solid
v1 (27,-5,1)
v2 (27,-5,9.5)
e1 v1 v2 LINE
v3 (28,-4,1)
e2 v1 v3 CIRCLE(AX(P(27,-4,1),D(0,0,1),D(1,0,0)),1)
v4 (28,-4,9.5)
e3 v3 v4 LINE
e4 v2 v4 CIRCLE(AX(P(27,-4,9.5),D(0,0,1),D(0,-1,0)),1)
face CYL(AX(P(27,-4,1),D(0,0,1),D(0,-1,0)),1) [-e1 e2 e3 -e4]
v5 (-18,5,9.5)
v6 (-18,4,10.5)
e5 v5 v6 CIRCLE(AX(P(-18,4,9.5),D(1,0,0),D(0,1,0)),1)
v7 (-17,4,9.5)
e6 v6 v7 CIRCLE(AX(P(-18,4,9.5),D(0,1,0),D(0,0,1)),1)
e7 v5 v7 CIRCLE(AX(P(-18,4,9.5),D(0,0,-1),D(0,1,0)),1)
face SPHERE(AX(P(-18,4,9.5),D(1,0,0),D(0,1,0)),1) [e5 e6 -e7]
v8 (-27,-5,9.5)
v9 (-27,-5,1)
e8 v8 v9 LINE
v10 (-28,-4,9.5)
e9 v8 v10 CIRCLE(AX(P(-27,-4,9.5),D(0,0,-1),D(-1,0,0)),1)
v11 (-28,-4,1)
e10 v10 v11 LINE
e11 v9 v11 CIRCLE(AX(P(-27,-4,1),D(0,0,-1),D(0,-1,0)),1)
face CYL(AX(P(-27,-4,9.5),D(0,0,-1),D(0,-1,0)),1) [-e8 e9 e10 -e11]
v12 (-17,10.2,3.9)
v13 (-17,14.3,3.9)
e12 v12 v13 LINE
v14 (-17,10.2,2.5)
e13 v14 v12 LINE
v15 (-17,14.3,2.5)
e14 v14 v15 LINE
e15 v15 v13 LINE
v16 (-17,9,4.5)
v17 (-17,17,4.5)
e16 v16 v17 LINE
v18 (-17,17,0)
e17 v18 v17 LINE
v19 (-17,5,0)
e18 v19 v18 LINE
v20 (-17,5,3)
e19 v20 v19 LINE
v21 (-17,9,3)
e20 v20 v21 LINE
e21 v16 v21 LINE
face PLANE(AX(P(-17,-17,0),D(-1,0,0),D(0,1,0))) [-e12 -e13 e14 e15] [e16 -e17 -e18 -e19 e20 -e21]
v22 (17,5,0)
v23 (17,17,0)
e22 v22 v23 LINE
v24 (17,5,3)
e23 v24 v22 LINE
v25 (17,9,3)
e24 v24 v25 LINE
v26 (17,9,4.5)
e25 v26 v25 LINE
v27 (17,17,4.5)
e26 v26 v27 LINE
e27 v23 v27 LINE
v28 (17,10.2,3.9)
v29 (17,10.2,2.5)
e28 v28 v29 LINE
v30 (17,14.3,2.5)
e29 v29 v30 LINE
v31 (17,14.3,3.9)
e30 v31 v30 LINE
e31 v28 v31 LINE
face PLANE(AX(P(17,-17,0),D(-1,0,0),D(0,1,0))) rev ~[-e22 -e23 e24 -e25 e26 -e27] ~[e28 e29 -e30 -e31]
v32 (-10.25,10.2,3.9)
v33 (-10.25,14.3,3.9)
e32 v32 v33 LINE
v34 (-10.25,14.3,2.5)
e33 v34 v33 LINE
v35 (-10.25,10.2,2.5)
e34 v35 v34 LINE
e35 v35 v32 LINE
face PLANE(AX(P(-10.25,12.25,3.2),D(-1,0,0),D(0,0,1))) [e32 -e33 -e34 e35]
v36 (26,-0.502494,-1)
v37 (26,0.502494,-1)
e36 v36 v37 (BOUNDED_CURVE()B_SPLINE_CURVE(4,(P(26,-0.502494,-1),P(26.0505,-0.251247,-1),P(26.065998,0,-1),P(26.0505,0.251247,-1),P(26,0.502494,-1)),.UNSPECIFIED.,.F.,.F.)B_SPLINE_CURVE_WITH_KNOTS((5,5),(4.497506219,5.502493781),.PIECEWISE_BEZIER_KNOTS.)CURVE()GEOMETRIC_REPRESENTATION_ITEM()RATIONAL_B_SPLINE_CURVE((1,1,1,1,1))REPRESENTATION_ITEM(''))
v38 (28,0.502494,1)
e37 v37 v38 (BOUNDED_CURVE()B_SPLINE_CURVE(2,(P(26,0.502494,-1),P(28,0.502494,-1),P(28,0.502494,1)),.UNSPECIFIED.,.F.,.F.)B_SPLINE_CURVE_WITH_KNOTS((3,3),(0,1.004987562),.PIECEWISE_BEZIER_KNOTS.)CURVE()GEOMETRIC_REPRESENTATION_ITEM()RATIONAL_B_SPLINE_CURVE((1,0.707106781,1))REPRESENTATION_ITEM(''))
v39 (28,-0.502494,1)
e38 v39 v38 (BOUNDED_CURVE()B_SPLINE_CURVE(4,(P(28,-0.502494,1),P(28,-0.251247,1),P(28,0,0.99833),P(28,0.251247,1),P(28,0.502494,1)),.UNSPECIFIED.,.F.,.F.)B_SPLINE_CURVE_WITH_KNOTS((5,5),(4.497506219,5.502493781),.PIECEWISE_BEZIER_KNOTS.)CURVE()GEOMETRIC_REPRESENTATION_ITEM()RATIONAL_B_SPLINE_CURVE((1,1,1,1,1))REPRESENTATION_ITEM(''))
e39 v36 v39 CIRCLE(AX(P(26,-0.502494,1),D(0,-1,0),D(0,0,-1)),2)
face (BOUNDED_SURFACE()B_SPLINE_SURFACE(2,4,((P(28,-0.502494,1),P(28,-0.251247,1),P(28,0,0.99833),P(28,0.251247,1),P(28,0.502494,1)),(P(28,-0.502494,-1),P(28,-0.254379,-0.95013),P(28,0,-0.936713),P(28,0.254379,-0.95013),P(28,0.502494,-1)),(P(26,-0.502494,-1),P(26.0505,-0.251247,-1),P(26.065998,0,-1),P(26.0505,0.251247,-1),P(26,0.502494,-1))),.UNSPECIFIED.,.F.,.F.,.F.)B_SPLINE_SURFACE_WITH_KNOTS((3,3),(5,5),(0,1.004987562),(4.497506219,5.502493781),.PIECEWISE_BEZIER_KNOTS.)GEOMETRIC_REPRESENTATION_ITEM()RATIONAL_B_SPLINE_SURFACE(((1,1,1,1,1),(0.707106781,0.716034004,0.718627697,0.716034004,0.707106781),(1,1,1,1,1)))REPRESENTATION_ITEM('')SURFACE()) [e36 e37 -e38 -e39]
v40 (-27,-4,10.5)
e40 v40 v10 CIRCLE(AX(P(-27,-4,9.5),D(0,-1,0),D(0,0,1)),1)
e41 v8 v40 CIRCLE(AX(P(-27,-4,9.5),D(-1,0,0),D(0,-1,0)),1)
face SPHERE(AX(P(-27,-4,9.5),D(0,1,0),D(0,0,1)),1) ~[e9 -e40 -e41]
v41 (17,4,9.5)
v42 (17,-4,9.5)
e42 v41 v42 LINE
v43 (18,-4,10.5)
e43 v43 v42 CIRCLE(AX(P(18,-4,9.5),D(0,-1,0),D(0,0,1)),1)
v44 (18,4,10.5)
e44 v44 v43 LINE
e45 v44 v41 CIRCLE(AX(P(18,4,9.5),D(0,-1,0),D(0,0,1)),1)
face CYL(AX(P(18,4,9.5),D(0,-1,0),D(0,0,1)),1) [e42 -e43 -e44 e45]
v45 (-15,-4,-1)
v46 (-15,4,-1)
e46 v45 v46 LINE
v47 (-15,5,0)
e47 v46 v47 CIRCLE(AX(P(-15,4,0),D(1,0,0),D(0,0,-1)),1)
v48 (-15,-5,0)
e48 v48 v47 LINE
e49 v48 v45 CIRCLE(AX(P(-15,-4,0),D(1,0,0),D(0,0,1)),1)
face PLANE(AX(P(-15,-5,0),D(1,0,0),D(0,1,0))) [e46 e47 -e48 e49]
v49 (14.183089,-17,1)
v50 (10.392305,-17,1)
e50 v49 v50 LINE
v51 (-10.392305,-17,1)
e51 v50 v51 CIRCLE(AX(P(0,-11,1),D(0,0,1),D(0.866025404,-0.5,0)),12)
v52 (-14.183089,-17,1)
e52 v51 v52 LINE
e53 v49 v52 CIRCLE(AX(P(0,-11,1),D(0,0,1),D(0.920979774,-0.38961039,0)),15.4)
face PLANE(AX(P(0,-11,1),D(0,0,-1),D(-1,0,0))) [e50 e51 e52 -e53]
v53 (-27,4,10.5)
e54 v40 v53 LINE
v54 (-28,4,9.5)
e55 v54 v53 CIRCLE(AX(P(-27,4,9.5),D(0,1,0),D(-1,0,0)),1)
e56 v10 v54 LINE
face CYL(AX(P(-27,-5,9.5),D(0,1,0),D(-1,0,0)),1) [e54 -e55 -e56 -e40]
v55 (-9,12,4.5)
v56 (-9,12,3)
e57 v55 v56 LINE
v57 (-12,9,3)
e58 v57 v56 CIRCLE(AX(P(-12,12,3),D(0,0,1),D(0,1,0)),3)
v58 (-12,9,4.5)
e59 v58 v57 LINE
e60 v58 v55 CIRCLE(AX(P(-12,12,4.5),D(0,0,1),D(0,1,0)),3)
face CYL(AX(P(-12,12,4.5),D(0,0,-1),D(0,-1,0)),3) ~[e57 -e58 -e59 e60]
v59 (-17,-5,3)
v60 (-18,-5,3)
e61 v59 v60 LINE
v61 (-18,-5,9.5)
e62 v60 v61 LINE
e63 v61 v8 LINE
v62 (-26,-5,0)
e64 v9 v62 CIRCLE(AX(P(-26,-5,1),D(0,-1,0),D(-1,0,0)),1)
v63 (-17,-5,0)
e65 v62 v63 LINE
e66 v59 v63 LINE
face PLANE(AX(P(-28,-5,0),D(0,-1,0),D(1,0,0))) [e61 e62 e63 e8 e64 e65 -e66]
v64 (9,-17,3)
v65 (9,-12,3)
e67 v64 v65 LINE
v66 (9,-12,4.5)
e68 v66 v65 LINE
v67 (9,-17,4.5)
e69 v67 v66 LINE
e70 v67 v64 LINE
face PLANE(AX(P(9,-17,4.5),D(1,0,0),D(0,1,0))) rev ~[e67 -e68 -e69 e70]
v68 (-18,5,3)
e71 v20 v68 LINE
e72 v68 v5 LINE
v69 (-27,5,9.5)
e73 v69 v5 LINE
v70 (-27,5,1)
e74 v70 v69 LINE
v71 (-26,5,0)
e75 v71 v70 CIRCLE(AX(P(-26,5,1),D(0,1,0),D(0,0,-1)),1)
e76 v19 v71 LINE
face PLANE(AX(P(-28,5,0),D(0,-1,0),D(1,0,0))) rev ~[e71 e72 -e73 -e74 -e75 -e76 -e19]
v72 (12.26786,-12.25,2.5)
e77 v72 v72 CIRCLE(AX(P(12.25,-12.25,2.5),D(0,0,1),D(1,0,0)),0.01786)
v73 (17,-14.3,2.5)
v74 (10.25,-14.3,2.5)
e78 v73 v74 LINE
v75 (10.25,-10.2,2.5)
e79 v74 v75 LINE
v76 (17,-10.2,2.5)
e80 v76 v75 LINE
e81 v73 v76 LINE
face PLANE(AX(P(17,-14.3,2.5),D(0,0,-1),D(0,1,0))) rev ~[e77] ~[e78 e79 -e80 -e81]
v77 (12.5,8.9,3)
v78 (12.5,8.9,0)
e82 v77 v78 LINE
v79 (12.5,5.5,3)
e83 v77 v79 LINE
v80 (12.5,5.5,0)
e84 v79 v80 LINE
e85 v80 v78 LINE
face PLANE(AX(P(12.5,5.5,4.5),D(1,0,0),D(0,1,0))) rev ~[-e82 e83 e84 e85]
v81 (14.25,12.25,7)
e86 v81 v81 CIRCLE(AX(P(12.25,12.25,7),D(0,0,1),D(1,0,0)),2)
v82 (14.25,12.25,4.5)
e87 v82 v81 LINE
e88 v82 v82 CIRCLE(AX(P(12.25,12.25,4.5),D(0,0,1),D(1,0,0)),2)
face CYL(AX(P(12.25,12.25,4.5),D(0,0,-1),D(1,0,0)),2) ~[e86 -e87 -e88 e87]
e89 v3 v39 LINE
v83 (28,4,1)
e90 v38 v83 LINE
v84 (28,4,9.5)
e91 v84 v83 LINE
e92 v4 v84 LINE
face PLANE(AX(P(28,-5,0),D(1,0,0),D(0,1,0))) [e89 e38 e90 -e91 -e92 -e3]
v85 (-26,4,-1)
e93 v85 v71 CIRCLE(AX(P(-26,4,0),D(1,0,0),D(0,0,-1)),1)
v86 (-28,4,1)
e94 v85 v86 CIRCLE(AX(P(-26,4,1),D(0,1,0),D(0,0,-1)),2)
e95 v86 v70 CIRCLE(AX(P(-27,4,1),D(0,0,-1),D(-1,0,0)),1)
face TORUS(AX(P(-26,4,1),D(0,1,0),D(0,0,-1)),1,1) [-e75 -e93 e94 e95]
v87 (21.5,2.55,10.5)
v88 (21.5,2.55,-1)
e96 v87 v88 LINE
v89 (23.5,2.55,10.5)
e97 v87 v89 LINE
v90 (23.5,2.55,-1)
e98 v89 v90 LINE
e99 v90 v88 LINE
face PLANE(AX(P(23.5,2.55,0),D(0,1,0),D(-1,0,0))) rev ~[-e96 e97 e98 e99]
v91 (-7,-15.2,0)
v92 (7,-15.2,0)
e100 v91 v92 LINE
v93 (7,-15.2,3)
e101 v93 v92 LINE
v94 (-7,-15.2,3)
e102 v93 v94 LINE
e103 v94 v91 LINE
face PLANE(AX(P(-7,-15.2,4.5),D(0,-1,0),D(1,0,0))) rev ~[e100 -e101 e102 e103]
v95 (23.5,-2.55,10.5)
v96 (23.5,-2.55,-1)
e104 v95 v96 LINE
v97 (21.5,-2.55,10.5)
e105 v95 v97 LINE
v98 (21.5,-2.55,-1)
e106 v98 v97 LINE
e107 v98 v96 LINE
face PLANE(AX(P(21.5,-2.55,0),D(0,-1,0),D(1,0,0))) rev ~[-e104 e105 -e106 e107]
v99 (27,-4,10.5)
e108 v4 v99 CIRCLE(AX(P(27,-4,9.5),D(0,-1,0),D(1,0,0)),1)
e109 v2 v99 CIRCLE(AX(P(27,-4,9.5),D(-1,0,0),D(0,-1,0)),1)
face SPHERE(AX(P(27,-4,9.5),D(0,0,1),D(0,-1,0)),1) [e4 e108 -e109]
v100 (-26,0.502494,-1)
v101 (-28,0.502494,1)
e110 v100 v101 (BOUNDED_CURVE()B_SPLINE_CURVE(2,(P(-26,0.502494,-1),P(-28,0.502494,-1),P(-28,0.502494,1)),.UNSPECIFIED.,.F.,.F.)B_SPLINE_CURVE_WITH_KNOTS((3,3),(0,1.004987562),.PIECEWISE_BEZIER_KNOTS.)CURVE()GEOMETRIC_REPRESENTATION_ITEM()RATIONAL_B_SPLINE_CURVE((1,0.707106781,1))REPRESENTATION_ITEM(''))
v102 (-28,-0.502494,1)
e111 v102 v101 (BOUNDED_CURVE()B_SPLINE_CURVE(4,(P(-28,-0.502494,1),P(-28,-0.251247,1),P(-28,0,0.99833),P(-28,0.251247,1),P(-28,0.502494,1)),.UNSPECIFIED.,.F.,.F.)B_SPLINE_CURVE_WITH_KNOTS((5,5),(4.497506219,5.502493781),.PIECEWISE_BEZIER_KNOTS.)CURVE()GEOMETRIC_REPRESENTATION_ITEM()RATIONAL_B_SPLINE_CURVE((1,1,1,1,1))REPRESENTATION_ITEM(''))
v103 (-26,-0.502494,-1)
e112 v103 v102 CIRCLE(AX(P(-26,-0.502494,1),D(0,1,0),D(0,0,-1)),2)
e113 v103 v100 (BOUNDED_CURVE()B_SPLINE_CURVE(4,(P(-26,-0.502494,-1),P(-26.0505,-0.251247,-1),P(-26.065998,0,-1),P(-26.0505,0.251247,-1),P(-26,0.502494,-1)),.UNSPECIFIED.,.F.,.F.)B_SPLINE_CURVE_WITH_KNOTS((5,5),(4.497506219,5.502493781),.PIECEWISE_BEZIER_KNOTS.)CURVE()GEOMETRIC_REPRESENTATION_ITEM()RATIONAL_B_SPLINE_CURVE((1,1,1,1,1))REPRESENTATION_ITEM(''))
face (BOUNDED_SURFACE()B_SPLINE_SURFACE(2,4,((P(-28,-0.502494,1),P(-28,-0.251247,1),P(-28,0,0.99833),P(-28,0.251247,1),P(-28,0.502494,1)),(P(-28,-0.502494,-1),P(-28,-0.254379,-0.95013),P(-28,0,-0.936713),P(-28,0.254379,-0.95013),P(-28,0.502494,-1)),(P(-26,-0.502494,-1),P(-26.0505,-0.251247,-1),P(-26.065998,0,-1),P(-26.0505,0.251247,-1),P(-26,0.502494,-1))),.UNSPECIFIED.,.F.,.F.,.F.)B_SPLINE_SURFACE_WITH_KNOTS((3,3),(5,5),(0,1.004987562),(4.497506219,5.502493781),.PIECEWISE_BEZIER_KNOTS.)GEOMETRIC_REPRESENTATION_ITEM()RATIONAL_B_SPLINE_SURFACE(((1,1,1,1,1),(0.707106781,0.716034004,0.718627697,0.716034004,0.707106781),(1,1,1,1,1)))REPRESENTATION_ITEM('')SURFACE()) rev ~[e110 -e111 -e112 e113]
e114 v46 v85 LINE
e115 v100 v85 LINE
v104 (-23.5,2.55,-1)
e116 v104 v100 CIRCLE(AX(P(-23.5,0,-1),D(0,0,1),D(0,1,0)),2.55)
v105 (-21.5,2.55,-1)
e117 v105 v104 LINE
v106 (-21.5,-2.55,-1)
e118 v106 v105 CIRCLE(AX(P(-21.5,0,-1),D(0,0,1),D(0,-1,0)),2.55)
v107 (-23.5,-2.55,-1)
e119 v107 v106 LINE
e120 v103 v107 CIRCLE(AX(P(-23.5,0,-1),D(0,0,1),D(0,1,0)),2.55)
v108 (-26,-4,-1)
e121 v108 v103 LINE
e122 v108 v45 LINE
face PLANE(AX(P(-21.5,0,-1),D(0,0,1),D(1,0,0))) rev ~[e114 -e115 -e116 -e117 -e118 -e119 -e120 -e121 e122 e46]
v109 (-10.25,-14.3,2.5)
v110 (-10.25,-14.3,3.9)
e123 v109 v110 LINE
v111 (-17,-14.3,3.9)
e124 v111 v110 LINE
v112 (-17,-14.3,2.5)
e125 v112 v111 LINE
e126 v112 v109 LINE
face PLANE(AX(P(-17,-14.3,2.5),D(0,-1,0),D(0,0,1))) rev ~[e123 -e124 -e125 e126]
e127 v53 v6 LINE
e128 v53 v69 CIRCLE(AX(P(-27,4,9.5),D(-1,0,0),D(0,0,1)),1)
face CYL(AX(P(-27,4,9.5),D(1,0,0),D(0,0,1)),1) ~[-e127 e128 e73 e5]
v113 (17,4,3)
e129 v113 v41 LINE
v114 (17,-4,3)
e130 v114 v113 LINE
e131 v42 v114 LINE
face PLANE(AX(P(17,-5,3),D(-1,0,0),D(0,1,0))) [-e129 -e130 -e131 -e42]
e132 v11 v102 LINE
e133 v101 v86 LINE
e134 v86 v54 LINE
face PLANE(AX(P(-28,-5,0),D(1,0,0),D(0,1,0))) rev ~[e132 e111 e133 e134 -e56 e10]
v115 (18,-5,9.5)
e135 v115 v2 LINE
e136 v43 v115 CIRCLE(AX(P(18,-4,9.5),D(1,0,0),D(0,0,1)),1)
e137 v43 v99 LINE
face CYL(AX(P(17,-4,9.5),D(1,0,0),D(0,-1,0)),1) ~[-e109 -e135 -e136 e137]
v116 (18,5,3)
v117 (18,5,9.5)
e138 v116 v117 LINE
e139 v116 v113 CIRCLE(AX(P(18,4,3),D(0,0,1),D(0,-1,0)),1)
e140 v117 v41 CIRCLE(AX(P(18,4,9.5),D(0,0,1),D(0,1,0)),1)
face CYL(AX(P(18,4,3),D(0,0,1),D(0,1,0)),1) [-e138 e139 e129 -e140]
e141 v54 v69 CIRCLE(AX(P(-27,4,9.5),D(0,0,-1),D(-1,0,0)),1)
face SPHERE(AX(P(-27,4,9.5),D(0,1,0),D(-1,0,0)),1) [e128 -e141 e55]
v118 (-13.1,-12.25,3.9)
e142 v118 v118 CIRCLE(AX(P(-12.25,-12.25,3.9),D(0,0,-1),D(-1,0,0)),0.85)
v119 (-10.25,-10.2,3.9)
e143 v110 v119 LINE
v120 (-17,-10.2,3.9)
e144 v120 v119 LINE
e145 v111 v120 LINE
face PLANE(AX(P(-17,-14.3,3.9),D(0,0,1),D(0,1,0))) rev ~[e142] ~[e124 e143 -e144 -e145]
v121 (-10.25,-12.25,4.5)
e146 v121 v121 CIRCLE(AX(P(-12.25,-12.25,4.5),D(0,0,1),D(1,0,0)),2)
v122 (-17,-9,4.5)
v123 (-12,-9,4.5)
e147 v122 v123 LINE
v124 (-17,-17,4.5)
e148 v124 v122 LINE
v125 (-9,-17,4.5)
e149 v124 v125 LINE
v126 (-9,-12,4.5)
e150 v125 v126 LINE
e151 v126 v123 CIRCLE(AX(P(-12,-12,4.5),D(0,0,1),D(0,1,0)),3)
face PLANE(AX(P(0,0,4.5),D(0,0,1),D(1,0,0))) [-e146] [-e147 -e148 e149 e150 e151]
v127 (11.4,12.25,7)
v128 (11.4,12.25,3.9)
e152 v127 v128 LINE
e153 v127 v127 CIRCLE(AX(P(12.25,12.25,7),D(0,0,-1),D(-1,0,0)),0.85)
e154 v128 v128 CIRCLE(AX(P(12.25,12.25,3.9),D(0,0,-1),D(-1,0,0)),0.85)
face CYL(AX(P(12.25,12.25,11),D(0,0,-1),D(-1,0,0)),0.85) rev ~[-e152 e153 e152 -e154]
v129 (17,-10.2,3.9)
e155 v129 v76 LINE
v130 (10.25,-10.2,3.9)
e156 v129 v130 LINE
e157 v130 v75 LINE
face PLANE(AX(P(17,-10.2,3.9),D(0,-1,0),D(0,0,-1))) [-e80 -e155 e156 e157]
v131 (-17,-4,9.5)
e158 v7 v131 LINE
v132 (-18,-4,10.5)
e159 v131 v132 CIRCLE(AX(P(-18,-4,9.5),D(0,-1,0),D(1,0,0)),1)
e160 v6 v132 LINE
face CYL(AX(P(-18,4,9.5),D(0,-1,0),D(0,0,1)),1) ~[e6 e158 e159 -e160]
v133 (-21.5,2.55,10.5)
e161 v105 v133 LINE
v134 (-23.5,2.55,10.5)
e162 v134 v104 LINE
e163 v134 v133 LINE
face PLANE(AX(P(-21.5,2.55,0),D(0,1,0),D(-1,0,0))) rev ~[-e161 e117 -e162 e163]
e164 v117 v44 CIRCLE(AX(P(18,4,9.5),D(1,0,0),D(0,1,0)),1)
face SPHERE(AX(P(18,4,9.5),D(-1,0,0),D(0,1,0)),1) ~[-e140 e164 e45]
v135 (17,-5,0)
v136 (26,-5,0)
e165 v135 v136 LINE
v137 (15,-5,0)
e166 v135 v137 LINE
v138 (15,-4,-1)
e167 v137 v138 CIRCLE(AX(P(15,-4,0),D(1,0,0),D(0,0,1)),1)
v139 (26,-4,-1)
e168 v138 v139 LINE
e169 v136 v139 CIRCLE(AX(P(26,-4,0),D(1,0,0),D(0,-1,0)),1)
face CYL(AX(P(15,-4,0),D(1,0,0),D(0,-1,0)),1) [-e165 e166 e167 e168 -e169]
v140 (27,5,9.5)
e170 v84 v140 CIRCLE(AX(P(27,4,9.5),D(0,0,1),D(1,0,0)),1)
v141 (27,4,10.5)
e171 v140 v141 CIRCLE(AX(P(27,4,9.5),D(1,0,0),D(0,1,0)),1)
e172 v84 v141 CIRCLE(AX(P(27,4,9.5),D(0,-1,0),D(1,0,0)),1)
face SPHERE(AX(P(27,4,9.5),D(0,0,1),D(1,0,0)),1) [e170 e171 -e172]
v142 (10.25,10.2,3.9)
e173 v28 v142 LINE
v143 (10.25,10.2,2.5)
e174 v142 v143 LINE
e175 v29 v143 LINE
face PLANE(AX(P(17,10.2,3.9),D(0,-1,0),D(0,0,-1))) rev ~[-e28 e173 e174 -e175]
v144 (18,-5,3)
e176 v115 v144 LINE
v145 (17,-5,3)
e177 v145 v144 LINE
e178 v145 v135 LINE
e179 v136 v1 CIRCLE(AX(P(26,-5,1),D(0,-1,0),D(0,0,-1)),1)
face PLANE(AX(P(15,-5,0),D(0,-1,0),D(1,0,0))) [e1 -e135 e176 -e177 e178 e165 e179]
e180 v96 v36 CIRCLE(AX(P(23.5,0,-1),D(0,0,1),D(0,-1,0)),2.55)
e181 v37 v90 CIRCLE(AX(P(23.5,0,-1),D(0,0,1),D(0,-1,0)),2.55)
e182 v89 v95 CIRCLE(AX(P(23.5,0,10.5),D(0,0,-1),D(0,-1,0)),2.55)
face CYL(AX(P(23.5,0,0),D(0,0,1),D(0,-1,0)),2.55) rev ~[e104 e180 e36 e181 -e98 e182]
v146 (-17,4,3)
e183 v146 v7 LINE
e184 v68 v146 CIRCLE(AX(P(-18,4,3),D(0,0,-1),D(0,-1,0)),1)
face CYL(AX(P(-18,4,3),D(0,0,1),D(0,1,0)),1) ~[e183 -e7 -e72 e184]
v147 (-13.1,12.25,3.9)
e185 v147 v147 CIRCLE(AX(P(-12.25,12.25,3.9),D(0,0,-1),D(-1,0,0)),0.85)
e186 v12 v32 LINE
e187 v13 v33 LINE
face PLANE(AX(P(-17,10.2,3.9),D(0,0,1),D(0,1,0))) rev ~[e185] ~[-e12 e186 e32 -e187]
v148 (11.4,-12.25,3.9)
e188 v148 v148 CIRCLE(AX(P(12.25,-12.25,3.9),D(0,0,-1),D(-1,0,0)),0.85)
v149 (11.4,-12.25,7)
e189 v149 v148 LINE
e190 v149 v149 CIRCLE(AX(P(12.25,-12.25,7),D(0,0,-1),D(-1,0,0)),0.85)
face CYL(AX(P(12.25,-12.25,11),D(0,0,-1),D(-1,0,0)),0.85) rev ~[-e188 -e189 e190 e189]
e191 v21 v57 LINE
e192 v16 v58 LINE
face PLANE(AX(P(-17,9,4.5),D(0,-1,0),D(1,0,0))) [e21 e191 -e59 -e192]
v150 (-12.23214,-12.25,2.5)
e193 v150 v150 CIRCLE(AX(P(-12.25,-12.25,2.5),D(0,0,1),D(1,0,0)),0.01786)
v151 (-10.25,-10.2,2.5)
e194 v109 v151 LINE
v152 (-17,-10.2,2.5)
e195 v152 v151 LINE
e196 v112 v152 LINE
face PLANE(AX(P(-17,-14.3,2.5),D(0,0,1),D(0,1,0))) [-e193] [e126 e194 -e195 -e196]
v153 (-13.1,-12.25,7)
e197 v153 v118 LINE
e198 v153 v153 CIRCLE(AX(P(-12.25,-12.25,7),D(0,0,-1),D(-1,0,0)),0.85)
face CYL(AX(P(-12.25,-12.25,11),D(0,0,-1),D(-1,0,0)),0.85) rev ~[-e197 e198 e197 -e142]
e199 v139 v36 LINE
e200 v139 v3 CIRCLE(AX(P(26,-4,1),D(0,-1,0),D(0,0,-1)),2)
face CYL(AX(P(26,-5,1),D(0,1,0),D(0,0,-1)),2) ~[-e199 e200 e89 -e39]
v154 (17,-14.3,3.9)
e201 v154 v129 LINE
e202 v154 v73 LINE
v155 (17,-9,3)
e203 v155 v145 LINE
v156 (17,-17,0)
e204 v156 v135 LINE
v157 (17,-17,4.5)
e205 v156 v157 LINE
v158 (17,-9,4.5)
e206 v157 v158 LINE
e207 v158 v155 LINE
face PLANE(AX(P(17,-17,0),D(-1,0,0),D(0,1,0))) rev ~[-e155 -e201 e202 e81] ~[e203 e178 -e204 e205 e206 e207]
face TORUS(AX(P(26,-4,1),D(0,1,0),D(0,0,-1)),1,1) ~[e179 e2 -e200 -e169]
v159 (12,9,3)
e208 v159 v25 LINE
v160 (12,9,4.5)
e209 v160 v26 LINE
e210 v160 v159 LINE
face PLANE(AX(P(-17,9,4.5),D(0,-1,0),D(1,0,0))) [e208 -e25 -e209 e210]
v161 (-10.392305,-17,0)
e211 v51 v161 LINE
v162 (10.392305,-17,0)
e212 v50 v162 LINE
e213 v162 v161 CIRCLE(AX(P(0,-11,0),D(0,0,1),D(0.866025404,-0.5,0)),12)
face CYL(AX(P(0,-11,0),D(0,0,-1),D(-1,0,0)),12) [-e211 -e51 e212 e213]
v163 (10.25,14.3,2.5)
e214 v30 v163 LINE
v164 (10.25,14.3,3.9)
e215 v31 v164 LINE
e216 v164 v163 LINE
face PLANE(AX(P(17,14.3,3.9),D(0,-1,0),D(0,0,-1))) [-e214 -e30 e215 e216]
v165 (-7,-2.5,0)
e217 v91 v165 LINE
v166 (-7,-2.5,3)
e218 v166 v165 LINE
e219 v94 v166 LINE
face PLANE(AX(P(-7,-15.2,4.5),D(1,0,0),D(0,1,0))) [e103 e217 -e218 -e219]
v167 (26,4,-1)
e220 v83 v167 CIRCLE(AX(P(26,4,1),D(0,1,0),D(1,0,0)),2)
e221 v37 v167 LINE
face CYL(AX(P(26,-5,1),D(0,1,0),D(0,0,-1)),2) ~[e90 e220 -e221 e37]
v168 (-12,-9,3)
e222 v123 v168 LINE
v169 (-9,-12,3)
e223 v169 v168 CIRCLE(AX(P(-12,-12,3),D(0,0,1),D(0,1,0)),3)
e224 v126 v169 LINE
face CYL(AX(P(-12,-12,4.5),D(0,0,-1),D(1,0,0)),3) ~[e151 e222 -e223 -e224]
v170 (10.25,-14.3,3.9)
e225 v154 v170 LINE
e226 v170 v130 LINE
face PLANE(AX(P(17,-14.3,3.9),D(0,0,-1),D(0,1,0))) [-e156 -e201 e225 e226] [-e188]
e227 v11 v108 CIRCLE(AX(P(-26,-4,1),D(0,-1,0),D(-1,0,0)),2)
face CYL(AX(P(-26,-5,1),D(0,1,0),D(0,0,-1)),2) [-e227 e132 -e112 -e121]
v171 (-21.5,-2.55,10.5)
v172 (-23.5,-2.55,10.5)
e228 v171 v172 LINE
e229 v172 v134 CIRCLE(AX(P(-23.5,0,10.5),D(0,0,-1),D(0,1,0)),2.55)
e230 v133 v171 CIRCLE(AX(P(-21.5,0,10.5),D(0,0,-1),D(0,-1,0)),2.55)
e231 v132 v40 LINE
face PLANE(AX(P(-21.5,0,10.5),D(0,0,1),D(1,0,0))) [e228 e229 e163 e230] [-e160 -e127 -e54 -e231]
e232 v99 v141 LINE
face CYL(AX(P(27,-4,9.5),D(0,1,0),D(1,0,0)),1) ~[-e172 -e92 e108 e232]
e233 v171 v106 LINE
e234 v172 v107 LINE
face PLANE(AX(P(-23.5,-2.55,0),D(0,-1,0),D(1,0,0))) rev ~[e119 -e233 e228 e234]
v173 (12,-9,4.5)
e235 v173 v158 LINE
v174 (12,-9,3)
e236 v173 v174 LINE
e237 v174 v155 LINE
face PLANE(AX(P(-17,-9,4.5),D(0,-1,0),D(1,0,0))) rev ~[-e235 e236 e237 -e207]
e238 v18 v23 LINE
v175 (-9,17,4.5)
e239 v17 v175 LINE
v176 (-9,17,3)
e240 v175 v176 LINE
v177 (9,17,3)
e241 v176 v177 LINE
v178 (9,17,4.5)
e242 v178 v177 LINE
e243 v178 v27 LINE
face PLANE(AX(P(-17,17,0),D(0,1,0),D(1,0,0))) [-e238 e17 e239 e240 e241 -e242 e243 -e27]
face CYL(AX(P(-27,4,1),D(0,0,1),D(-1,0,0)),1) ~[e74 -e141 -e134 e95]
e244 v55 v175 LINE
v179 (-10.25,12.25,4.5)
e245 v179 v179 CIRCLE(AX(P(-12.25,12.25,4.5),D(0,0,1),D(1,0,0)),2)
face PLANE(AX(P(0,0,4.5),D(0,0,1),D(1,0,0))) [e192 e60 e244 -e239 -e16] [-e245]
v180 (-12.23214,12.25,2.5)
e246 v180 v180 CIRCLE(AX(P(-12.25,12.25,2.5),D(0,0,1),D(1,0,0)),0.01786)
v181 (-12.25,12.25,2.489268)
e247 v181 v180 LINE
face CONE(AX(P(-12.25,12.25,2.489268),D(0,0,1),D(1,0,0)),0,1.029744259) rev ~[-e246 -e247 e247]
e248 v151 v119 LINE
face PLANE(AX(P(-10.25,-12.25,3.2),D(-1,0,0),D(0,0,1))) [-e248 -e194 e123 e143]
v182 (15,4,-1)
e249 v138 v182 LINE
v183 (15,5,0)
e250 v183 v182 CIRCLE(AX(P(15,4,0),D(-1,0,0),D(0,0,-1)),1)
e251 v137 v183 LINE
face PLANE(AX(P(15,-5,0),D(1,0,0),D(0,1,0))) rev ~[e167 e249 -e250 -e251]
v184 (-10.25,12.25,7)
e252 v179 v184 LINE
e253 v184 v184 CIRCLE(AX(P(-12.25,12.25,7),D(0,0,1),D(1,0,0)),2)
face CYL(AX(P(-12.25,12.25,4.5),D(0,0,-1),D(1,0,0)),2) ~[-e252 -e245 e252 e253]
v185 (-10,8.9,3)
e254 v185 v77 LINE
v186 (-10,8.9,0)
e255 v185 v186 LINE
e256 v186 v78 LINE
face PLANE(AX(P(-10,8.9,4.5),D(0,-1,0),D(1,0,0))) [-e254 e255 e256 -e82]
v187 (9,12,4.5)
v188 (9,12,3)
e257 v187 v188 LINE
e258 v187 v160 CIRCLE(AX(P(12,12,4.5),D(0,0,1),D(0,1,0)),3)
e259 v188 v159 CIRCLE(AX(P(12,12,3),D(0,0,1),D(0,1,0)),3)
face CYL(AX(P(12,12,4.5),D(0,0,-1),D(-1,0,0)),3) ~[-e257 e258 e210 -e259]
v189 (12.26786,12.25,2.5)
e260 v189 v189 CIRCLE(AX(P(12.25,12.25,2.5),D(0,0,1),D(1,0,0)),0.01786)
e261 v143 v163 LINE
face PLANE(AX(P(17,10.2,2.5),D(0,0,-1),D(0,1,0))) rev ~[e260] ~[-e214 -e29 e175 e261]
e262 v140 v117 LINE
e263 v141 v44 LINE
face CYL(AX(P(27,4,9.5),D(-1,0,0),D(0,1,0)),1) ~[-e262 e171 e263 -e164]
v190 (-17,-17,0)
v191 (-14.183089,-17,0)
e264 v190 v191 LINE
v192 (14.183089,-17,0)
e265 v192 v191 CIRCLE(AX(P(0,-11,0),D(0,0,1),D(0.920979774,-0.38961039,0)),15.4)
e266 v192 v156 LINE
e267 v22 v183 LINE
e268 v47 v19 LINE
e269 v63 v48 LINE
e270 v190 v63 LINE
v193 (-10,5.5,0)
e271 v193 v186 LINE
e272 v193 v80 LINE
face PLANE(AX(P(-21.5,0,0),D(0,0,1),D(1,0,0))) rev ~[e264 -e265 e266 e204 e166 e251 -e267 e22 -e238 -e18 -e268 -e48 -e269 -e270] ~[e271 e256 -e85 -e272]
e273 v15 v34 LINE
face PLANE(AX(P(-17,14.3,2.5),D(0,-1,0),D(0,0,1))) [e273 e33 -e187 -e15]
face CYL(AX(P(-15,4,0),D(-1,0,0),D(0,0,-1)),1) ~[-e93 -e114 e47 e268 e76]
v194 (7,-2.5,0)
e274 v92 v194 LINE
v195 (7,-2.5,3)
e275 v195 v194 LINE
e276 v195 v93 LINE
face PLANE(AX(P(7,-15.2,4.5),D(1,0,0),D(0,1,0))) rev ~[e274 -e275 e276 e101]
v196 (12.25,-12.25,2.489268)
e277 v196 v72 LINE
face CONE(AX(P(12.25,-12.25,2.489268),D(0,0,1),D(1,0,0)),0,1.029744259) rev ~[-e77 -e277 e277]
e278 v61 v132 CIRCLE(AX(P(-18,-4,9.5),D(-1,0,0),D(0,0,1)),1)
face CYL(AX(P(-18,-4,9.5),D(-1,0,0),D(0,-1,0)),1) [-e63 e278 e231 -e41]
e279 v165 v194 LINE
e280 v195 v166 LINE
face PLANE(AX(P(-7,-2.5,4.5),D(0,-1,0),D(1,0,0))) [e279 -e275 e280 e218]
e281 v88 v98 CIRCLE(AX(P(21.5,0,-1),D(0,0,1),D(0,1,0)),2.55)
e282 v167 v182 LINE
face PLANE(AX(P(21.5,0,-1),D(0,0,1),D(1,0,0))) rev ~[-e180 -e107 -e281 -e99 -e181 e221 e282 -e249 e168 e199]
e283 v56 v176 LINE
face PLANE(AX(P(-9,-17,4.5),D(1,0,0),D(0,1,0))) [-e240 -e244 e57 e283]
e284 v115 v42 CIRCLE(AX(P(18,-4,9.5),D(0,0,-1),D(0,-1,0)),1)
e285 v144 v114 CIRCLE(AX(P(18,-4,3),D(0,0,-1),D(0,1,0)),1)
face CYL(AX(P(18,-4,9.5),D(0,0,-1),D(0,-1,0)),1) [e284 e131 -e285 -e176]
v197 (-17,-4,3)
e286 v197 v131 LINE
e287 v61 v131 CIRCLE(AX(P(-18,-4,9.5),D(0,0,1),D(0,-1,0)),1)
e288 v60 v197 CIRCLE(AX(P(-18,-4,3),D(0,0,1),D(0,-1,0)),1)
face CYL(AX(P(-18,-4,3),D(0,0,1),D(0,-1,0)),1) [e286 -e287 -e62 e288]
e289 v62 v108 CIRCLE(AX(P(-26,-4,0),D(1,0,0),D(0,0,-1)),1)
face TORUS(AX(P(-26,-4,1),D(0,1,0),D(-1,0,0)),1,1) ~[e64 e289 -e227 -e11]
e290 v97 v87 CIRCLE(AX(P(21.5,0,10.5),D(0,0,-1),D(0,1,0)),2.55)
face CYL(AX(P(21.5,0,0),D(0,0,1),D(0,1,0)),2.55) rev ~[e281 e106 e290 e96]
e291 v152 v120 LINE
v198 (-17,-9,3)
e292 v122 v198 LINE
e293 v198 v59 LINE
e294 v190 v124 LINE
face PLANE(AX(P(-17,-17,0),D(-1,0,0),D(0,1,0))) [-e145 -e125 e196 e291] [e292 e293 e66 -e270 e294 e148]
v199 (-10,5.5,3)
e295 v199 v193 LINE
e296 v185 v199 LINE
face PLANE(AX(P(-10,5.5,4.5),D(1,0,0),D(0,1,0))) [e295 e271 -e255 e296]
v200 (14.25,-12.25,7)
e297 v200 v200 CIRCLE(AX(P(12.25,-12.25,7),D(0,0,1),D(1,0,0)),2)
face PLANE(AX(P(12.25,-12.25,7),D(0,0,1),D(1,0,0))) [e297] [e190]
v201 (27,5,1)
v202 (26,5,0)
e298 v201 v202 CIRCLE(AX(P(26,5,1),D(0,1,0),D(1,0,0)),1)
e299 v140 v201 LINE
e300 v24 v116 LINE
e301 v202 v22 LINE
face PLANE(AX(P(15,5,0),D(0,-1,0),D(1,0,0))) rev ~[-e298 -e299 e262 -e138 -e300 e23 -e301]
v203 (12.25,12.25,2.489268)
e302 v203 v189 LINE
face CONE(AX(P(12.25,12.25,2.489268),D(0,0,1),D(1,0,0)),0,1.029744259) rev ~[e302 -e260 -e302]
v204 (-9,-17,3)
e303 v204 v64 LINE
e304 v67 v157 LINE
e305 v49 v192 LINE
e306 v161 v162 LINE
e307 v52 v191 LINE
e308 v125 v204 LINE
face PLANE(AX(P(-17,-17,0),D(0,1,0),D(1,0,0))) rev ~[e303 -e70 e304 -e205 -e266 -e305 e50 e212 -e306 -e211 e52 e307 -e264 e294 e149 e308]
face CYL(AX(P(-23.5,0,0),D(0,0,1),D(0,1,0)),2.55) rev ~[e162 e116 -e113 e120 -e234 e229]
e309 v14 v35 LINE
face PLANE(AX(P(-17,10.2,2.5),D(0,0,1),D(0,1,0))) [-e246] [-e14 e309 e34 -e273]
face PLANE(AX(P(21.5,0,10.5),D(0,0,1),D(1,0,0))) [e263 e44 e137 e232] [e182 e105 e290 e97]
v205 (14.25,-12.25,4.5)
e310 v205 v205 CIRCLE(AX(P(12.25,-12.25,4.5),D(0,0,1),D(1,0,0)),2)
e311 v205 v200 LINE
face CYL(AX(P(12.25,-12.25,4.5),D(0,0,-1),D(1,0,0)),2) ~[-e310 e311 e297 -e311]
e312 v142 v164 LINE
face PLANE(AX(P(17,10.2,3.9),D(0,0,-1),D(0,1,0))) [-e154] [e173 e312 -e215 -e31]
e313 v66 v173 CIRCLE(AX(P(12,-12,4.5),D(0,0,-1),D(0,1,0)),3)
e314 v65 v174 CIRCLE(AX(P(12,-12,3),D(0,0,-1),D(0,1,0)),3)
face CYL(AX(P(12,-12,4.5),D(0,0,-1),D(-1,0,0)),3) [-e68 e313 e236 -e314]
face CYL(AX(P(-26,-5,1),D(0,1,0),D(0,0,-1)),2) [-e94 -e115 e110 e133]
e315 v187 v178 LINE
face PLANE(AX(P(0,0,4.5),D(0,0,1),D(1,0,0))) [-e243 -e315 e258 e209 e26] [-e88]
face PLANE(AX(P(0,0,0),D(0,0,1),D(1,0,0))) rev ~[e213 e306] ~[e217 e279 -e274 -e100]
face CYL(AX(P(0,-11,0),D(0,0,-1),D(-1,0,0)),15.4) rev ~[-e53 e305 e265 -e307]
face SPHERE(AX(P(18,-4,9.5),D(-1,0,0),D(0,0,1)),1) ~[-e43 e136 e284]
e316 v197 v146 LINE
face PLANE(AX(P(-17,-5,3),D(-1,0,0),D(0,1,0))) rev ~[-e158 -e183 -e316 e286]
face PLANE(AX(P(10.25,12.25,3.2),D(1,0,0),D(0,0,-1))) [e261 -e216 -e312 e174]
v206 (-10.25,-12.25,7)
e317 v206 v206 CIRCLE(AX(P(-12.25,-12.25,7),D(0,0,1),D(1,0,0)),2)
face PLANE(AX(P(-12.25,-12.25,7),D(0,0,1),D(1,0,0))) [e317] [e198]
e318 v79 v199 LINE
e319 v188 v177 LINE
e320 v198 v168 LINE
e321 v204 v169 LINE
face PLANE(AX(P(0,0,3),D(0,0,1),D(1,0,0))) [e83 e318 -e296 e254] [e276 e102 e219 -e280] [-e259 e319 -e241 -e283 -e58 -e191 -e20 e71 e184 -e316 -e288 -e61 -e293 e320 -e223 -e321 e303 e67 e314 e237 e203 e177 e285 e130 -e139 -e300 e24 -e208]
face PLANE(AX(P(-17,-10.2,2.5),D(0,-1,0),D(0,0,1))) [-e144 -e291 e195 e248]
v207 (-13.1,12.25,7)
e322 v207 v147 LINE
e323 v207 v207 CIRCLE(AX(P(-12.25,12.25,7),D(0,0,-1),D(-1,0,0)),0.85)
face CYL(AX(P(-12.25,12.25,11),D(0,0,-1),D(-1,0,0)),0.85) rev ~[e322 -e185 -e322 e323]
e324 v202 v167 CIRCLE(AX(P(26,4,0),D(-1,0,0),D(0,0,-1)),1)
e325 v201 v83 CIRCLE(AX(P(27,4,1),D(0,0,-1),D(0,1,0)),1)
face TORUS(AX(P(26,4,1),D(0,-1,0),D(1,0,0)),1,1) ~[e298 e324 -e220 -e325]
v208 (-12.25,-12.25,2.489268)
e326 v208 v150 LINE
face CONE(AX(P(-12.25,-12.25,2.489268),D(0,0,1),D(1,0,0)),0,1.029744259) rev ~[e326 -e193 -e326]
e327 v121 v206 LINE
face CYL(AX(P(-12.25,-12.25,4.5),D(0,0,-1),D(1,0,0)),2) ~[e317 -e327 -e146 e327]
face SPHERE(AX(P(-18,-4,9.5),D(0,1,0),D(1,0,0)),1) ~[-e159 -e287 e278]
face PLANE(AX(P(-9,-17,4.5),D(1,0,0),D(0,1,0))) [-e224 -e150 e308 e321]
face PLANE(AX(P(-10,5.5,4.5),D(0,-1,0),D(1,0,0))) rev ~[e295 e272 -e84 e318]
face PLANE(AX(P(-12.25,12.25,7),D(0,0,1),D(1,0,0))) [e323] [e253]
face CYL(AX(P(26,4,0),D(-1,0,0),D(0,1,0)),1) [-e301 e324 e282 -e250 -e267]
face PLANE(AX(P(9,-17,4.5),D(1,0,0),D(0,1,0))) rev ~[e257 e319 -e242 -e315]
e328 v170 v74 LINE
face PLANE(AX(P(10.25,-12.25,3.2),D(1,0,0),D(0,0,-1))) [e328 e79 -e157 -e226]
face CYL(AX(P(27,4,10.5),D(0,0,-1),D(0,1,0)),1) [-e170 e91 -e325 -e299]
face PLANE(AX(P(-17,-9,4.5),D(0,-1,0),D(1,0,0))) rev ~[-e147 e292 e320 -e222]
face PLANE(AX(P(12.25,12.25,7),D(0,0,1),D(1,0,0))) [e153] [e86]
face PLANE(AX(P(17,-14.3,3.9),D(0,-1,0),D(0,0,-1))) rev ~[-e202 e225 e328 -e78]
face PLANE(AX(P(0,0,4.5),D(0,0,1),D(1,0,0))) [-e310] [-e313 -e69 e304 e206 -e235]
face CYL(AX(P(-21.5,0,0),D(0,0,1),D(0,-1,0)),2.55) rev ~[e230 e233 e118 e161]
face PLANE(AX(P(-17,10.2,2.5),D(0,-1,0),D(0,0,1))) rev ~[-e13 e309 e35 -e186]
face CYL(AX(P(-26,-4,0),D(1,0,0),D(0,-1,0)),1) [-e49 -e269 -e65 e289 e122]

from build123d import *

# Parameters (mm, degrees)
SKETCH2_W                     = 34
SKETCH2_H                     = 34
BOSS_EXTRUDE_MAIN_DEPTH       = 4.5
SKETCH9_W                     = 14
SKETCH9_H                     = 12.7
CUT_USBC_HOLE_DEPTH           = 5.5
SKETCH10_W                    = 22.5
SKETCH10_H                    = 3.4
CUT_FOURPIN_NOTCH_DEPTH       = 15.7
SKETCH11_R                    = 2
BOSS_EXTRUDE_PEGSPACERS_DEPTH = 2.5
F_2_0MM_HOLES_FOR_PEGS_D      = 1.7
F_2_0MM_HOLES_FOR_PEGS_DEPTH  = 4
F_2_0MM_HOLES_FOR_PEGS_TIP    = 0.510731526
SKETCH15_R                    = 15.4
SKETCH15_R_2                  = 12
CUT_SM1_DEPTH                 = 1
SKETCH18_W                    = 1.4
SKETCH18_H                    = 4.1
CUT_HEXNUTRIGHT_DEPTH         = 1
CUT_HEXNUTRIGHT_DEPTH_BACK    = 6.75
SKETCH19_W                    = 1.4
SKETCH19_H                    = 4.1
CUT_HEXNUTLEFT_DEPTH          = 6.75
SKETCH20_W                    = 18
SKETCH20_H                    = 34
CUT_EXTRUDE2_DEPTH            = 1.5
SKETCH21_W                    = 34
SKETCH21_H                    = 18
CUT_EXTRUDE3_DEPTH            = 1.5
SKETCH22_W                    = 13
SKETCH22_H                    = 10
BOSS_EXTRUDE1_DEPTH           = 10.5
CUT_EXTRUDE4_DEPTH            = 15
SKETCH25_W                    = 2
SKETCH25_H                    = 10
CUT_EXTRUDE5_DEPTH            = 15
SKETCH22_2_W                  = 13
SKETCH22_2_H                  = 10
BOSS_EXTRUDE2_DEPTH           = 1
CUT_EXTRUDE6_DEPTH            = 2
FILLET5_R                     = 3
FILLET4_R                     = 3
FILLET3_R                     = 3
FILLET2_R                     = 3
FILLET7_R                     = 2
FILLET8_R                     = 2
FILLET9_R                     = 1
FILLET10_R                    = 1
FILLET11_R                    = 1
FILLET12_R                    = 1
FILLET13_R                    = 1
FILLET14_R                    = 1
FILLET15_R                    = 1
FILLET16_R                    = 1


with BuildPart() as part:
    # Sketch2 → Boss-Extrude Main (new body)
    with BuildSketch(Plane.XY):
        Rectangle(SKETCH2_W, SKETCH2_H)
    extrude(amount=BOSS_EXTRUDE_MAIN_DEPTH)

    # Sketch9 → Cut-USBc hole (cut, through all)
    with BuildSketch(Plane.XY.offset(4.5)):
        with Locations((0, -8.85)):
            Rectangle(SKETCH9_W, SKETCH9_H)
    extrude(amount=-CUT_USBC_HOLE_DEPTH, mode=Mode.SUBTRACT)

    # Sketch10 → Cut-FourPin Notch (cut)
    with BuildSketch(Plane.XY.offset(4.5)):
        with Locations((1.25, 7.2)):
            Rectangle(SKETCH10_W, SKETCH10_H)
    extrude(amount=-CUT_FOURPIN_NOTCH_DEPTH, mode=Mode.SUBTRACT)

    # Sketch11 → Boss-Extrude_PegSpacers (add)
    with BuildSketch(Plane.XY.offset(4.5)):
        with Locations((-12.25, 12.25)):
            Circle(SKETCH11_R)
        with Locations((12.25, 12.25)):
            Circle(SKETCH11_R)
        with Locations((12.25, -12.25)):
            Circle(SKETCH11_R)
        with Locations((-12.25, -12.25)):
            Circle(SKETCH11_R)
    extrude(amount=BOSS_EXTRUDE_PEGSPACERS_DEPTH)

    # Ø2.0mm Holes for Pegs
    with Locations(Plane(origin=(-12.25, 12.25, 7), x_dir=(1, 0, 0), z_dir=(0, 0, 1))):
        with Locations((0, 0), (24.5, 0), (24.5, -24.5), (0, -24.5)):
            Hole(F_2_0MM_HOLES_FOR_PEGS_D / 2, depth=F_2_0MM_HOLES_FOR_PEGS_DEPTH)
            with Locations((0, 0, -(F_2_0MM_HOLES_FOR_PEGS_DEPTH + F_2_0MM_HOLES_FOR_PEGS_TIP / 2))):  # 118° drill point
                Cone(0, F_2_0MM_HOLES_FOR_PEGS_D / 2, F_2_0MM_HOLES_FOR_PEGS_TIP, mode=Mode.SUBTRACT)

    # Sketch15 → Cut-SM1 (cut)
    with BuildSketch(Plane(origin=(0, 0, 0), x_dir=(-1, 0, 0), z_dir=(0, 0, -1))):
        with Locations((0, -11)):
            Circle(SKETCH15_R)
        with Locations((0, -11)):
            Circle(SKETCH15_R_2, mode=Mode.SUBTRACT)
    extrude(amount=-CUT_SM1_DEPTH, mode=Mode.SUBTRACT)

    # Sketch18 → Cut-HexNutRight (cut, two sides)
    with BuildSketch(Plane(origin=(17, 0, 0), x_dir=(0, 0, -1), z_dir=(1, 0, 0))) as cut_hexnutright_sk:
        with Locations((-3.2, -12.25)):
            Rectangle(SKETCH18_W, SKETCH18_H)
        with Locations((-3.2, 12.25)):
            Rectangle(SKETCH18_W, SKETCH18_H)
    extrude(amount=CUT_HEXNUTRIGHT_DEPTH, mode=Mode.SUBTRACT)
    extrude(cut_hexnutright_sk.sketch, amount=-CUT_HEXNUTRIGHT_DEPTH_BACK, mode=Mode.SUBTRACT)

    # Sketch19 → Cut-HexNutLeft (cut)
    with BuildSketch(Plane.ZY.offset(17)):
        with Locations((3.2, 12.25)):
            Rectangle(SKETCH19_W, SKETCH19_H)
        with Locations((3.2, -12.25)):
            Rectangle(SKETCH19_W, SKETCH19_H)
    extrude(amount=-CUT_HEXNUTLEFT_DEPTH, mode=Mode.SUBTRACT)

    # Sketch20 → Cut-Extrude2 (cut)
    with BuildSketch(Plane.XY.offset(4.5)):
        Rectangle(SKETCH20_W, SKETCH20_H)
    extrude(amount=-CUT_EXTRUDE2_DEPTH, mode=Mode.SUBTRACT)

    # Sketch21 → Cut-Extrude3 (cut)
    with BuildSketch(Plane.XY.offset(4.5)):
        Rectangle(SKETCH21_W, SKETCH21_H)
    extrude(amount=-CUT_EXTRUDE3_DEPTH, mode=Mode.SUBTRACT)

    # Sketch22 → Boss-Extrude1 (add)
    with BuildSketch(Plane.XY):
        with Locations((-21.5, 0)):
            Rectangle(SKETCH22_W, SKETCH22_H)
        with Locations((21.5, 0)):
            Rectangle(SKETCH22_W, SKETCH22_H)
    extrude(amount=BOSS_EXTRUDE1_DEPTH)

    # Sketch24 → Cut-Extrude4 (cut)
    with BuildSketch(Plane(origin=(0, 0, 0), x_dir=(-1, 0, 0), z_dir=(0, 0, -1))):
        with BuildLine():
            Line((21.5, 2.55), (23.5, 2.55))
            ThreePointArc((23.5, 2.55), (26.05, 0), (23.5, -2.55))
            Line((23.5, -2.55), (21.5, -2.55))
            ThreePointArc((21.5, -2.55), (18.95, 0), (21.5, 2.55))
        make_face()
        with BuildLine():
            Line((-21.5, -2.55), (-23.5, -2.55))
            ThreePointArc((-23.5, -2.55), (-26.05, 0), (-23.5, 2.55))
            Line((-23.5, 2.55), (-21.5, 2.55))
            ThreePointArc((-21.5, 2.55), (-18.95, 0), (-21.5, -2.55))
        make_face()
    extrude(amount=-CUT_EXTRUDE4_DEPTH, mode=Mode.SUBTRACT)

    # Sketch25 → Cut-Extrude5 (cut)
    with BuildSketch(Plane.XY.offset(3)):
        with Locations((-16, 0)):
            Rectangle(SKETCH25_W, SKETCH25_H)
        with Locations((16, 0)):
            Rectangle(SKETCH25_W, SKETCH25_H)
    extrude(amount=CUT_EXTRUDE5_DEPTH, mode=Mode.SUBTRACT)

    # Sketch22<2> → Boss-Extrude2 (add)
    with BuildSketch(Plane.XY):
        with Locations((-21.5, 0)):
            Rectangle(SKETCH22_2_W, SKETCH22_2_H)
        with Locations((21.5, 0)):
            Rectangle(SKETCH22_2_W, SKETCH22_2_H)
    extrude(amount=-BOSS_EXTRUDE2_DEPTH)

    # Sketch24<2> → Cut-Extrude6 (cut)
    with BuildSketch(Plane(origin=(0, 0, 0), x_dir=(-1, 0, 0), z_dir=(0, 0, -1))):
        with BuildLine():
            Line((21.5, 2.55), (23.5, 2.55))
            ThreePointArc((23.5, 2.55), (26.05, 0), (23.5, -2.55))
            Line((23.5, -2.55), (21.5, -2.55))
            ThreePointArc((21.5, -2.55), (18.95, 0), (21.5, 2.55))
        make_face()
        with BuildLine():
            Line((-21.5, -2.55), (-23.5, -2.55))
            ThreePointArc((-23.5, -2.55), (-26.05, 0), (-23.5, 2.55))
            Line((-23.5, 2.55), (-21.5, 2.55))
            ThreePointArc((-21.5, 2.55), (-18.95, 0), (-21.5, -2.55))
        make_face()
    extrude(amount=CUT_EXTRUDE6_DEPTH, mode=Mode.SUBTRACT)

    # Fillet5
    fillet5_edges = [part.edges().sort_by_distance(p)[0] for p in [
        (-9, -9, 3.75),
    ]]
    fillet(fillet5_edges, radius=FILLET5_R)

    # Fillet4
    fillet4_edges = [part.edges().sort_by_distance(p)[0] for p in [
        (9, -9, 3.75),
    ]]
    fillet(fillet4_edges, radius=FILLET4_R)

    # Fillet3
    fillet3_edges = [part.edges().sort_by_distance(p)[0] for p in [
        (-9, 9, 3.75),
    ]]
    fillet(fillet3_edges, radius=FILLET3_R)

    # Fillet2
    fillet2_edges = [part.edges().sort_by_distance(p)[0] for p in [
        (9, 9, 3.75),
    ]]
    fillet(fillet2_edges, radius=FILLET2_R)

    # Fillet7
    fillet7_edges = [part.edges().sort_by_distance(p)[0] for p in [
        (-28, 0, -1),
    ]]
    fillet(fillet7_edges, radius=FILLET7_R)

    # Fillet8
    fillet8_edges = [part.edges().sort_by_distance(p)[0] for p in [
        (28, 0, -1),
    ]]
    fillet(fillet8_edges, radius=FILLET8_R)

    # Fillet9
    fillet9_edges = [part.edges().sort_by_distance(p)[0] for p in [
        (-28, 0, 10.5),
    ]]
    fillet(fillet9_edges, radius=FILLET9_R)

    # Fillet10
    fillet10_edges = [part.edges().sort_by_distance(p)[0] for p in [
        (-22, 5, 10.5),
        (-20.5, 5, -1),
        (-27.414213562, 5, -0.414213562),
        (-28, 5, 5.25),
    ]]
    fillet(fillet10_edges, radius=FILLET10_R)

    # Fillet11
    fillet11_edges = [part.edges().sort_by_distance(p)[0] for p in [
        (-17, 5, 6.25),
        (-17, -0.5, 10.5),
    ]]
    fillet(fillet11_edges, radius=FILLET11_R)

    # Fillet12
    fillet12_edges = [part.edges().sort_by_distance(p)[0] for p in [
        (-20.5, -5, -1),
        (-27.414213562, -5, -0.414213562),
        (-28, -5, 5.25),
        (-22.5, -5, 10.5),
        (-17, -5, 6.25),
    ]]
    fillet(fillet12_edges, radius=FILLET12_R)

    # Fillet13
    fillet13_edges = [part.edges().sort_by_distance(p)[0] for p in [
        (28, -5, 5.75),
        (20.5, -5, -1),
        (27.414213562, -5, -0.414213562),
    ]]
    fillet(fillet13_edges, radius=FILLET13_R)

    # Fillet14
    fillet14_edges = [part.edges().sort_by_distance(p)[0] for p in [
        (28, 5, 5.75),
        (20.5, 5, -1),
        (27.414213562, 5, -0.414213562),
    ]]
    fillet(fillet14_edges, radius=FILLET14_R)

    # Fillet15
    fillet15_edges = [part.edges().sort_by_distance(p)[0] for p in [
        (22, -5, 10.5),
        (28, 0, 10.5),
        (22, 5, 10.5),
    ]]
    fillet(fillet15_edges, radius=FILLET15_R)

    # Fillet16
    fillet16_edges = [part.edges().sort_by_distance(p)[0] for p in [
        (17, 5, 6.25),
        (17, 0, 10.5),
        (17, -5, 6.25),
    ]]
    fillet(fillet16_edges, radius=FILLET16_R)


solid = part.part
